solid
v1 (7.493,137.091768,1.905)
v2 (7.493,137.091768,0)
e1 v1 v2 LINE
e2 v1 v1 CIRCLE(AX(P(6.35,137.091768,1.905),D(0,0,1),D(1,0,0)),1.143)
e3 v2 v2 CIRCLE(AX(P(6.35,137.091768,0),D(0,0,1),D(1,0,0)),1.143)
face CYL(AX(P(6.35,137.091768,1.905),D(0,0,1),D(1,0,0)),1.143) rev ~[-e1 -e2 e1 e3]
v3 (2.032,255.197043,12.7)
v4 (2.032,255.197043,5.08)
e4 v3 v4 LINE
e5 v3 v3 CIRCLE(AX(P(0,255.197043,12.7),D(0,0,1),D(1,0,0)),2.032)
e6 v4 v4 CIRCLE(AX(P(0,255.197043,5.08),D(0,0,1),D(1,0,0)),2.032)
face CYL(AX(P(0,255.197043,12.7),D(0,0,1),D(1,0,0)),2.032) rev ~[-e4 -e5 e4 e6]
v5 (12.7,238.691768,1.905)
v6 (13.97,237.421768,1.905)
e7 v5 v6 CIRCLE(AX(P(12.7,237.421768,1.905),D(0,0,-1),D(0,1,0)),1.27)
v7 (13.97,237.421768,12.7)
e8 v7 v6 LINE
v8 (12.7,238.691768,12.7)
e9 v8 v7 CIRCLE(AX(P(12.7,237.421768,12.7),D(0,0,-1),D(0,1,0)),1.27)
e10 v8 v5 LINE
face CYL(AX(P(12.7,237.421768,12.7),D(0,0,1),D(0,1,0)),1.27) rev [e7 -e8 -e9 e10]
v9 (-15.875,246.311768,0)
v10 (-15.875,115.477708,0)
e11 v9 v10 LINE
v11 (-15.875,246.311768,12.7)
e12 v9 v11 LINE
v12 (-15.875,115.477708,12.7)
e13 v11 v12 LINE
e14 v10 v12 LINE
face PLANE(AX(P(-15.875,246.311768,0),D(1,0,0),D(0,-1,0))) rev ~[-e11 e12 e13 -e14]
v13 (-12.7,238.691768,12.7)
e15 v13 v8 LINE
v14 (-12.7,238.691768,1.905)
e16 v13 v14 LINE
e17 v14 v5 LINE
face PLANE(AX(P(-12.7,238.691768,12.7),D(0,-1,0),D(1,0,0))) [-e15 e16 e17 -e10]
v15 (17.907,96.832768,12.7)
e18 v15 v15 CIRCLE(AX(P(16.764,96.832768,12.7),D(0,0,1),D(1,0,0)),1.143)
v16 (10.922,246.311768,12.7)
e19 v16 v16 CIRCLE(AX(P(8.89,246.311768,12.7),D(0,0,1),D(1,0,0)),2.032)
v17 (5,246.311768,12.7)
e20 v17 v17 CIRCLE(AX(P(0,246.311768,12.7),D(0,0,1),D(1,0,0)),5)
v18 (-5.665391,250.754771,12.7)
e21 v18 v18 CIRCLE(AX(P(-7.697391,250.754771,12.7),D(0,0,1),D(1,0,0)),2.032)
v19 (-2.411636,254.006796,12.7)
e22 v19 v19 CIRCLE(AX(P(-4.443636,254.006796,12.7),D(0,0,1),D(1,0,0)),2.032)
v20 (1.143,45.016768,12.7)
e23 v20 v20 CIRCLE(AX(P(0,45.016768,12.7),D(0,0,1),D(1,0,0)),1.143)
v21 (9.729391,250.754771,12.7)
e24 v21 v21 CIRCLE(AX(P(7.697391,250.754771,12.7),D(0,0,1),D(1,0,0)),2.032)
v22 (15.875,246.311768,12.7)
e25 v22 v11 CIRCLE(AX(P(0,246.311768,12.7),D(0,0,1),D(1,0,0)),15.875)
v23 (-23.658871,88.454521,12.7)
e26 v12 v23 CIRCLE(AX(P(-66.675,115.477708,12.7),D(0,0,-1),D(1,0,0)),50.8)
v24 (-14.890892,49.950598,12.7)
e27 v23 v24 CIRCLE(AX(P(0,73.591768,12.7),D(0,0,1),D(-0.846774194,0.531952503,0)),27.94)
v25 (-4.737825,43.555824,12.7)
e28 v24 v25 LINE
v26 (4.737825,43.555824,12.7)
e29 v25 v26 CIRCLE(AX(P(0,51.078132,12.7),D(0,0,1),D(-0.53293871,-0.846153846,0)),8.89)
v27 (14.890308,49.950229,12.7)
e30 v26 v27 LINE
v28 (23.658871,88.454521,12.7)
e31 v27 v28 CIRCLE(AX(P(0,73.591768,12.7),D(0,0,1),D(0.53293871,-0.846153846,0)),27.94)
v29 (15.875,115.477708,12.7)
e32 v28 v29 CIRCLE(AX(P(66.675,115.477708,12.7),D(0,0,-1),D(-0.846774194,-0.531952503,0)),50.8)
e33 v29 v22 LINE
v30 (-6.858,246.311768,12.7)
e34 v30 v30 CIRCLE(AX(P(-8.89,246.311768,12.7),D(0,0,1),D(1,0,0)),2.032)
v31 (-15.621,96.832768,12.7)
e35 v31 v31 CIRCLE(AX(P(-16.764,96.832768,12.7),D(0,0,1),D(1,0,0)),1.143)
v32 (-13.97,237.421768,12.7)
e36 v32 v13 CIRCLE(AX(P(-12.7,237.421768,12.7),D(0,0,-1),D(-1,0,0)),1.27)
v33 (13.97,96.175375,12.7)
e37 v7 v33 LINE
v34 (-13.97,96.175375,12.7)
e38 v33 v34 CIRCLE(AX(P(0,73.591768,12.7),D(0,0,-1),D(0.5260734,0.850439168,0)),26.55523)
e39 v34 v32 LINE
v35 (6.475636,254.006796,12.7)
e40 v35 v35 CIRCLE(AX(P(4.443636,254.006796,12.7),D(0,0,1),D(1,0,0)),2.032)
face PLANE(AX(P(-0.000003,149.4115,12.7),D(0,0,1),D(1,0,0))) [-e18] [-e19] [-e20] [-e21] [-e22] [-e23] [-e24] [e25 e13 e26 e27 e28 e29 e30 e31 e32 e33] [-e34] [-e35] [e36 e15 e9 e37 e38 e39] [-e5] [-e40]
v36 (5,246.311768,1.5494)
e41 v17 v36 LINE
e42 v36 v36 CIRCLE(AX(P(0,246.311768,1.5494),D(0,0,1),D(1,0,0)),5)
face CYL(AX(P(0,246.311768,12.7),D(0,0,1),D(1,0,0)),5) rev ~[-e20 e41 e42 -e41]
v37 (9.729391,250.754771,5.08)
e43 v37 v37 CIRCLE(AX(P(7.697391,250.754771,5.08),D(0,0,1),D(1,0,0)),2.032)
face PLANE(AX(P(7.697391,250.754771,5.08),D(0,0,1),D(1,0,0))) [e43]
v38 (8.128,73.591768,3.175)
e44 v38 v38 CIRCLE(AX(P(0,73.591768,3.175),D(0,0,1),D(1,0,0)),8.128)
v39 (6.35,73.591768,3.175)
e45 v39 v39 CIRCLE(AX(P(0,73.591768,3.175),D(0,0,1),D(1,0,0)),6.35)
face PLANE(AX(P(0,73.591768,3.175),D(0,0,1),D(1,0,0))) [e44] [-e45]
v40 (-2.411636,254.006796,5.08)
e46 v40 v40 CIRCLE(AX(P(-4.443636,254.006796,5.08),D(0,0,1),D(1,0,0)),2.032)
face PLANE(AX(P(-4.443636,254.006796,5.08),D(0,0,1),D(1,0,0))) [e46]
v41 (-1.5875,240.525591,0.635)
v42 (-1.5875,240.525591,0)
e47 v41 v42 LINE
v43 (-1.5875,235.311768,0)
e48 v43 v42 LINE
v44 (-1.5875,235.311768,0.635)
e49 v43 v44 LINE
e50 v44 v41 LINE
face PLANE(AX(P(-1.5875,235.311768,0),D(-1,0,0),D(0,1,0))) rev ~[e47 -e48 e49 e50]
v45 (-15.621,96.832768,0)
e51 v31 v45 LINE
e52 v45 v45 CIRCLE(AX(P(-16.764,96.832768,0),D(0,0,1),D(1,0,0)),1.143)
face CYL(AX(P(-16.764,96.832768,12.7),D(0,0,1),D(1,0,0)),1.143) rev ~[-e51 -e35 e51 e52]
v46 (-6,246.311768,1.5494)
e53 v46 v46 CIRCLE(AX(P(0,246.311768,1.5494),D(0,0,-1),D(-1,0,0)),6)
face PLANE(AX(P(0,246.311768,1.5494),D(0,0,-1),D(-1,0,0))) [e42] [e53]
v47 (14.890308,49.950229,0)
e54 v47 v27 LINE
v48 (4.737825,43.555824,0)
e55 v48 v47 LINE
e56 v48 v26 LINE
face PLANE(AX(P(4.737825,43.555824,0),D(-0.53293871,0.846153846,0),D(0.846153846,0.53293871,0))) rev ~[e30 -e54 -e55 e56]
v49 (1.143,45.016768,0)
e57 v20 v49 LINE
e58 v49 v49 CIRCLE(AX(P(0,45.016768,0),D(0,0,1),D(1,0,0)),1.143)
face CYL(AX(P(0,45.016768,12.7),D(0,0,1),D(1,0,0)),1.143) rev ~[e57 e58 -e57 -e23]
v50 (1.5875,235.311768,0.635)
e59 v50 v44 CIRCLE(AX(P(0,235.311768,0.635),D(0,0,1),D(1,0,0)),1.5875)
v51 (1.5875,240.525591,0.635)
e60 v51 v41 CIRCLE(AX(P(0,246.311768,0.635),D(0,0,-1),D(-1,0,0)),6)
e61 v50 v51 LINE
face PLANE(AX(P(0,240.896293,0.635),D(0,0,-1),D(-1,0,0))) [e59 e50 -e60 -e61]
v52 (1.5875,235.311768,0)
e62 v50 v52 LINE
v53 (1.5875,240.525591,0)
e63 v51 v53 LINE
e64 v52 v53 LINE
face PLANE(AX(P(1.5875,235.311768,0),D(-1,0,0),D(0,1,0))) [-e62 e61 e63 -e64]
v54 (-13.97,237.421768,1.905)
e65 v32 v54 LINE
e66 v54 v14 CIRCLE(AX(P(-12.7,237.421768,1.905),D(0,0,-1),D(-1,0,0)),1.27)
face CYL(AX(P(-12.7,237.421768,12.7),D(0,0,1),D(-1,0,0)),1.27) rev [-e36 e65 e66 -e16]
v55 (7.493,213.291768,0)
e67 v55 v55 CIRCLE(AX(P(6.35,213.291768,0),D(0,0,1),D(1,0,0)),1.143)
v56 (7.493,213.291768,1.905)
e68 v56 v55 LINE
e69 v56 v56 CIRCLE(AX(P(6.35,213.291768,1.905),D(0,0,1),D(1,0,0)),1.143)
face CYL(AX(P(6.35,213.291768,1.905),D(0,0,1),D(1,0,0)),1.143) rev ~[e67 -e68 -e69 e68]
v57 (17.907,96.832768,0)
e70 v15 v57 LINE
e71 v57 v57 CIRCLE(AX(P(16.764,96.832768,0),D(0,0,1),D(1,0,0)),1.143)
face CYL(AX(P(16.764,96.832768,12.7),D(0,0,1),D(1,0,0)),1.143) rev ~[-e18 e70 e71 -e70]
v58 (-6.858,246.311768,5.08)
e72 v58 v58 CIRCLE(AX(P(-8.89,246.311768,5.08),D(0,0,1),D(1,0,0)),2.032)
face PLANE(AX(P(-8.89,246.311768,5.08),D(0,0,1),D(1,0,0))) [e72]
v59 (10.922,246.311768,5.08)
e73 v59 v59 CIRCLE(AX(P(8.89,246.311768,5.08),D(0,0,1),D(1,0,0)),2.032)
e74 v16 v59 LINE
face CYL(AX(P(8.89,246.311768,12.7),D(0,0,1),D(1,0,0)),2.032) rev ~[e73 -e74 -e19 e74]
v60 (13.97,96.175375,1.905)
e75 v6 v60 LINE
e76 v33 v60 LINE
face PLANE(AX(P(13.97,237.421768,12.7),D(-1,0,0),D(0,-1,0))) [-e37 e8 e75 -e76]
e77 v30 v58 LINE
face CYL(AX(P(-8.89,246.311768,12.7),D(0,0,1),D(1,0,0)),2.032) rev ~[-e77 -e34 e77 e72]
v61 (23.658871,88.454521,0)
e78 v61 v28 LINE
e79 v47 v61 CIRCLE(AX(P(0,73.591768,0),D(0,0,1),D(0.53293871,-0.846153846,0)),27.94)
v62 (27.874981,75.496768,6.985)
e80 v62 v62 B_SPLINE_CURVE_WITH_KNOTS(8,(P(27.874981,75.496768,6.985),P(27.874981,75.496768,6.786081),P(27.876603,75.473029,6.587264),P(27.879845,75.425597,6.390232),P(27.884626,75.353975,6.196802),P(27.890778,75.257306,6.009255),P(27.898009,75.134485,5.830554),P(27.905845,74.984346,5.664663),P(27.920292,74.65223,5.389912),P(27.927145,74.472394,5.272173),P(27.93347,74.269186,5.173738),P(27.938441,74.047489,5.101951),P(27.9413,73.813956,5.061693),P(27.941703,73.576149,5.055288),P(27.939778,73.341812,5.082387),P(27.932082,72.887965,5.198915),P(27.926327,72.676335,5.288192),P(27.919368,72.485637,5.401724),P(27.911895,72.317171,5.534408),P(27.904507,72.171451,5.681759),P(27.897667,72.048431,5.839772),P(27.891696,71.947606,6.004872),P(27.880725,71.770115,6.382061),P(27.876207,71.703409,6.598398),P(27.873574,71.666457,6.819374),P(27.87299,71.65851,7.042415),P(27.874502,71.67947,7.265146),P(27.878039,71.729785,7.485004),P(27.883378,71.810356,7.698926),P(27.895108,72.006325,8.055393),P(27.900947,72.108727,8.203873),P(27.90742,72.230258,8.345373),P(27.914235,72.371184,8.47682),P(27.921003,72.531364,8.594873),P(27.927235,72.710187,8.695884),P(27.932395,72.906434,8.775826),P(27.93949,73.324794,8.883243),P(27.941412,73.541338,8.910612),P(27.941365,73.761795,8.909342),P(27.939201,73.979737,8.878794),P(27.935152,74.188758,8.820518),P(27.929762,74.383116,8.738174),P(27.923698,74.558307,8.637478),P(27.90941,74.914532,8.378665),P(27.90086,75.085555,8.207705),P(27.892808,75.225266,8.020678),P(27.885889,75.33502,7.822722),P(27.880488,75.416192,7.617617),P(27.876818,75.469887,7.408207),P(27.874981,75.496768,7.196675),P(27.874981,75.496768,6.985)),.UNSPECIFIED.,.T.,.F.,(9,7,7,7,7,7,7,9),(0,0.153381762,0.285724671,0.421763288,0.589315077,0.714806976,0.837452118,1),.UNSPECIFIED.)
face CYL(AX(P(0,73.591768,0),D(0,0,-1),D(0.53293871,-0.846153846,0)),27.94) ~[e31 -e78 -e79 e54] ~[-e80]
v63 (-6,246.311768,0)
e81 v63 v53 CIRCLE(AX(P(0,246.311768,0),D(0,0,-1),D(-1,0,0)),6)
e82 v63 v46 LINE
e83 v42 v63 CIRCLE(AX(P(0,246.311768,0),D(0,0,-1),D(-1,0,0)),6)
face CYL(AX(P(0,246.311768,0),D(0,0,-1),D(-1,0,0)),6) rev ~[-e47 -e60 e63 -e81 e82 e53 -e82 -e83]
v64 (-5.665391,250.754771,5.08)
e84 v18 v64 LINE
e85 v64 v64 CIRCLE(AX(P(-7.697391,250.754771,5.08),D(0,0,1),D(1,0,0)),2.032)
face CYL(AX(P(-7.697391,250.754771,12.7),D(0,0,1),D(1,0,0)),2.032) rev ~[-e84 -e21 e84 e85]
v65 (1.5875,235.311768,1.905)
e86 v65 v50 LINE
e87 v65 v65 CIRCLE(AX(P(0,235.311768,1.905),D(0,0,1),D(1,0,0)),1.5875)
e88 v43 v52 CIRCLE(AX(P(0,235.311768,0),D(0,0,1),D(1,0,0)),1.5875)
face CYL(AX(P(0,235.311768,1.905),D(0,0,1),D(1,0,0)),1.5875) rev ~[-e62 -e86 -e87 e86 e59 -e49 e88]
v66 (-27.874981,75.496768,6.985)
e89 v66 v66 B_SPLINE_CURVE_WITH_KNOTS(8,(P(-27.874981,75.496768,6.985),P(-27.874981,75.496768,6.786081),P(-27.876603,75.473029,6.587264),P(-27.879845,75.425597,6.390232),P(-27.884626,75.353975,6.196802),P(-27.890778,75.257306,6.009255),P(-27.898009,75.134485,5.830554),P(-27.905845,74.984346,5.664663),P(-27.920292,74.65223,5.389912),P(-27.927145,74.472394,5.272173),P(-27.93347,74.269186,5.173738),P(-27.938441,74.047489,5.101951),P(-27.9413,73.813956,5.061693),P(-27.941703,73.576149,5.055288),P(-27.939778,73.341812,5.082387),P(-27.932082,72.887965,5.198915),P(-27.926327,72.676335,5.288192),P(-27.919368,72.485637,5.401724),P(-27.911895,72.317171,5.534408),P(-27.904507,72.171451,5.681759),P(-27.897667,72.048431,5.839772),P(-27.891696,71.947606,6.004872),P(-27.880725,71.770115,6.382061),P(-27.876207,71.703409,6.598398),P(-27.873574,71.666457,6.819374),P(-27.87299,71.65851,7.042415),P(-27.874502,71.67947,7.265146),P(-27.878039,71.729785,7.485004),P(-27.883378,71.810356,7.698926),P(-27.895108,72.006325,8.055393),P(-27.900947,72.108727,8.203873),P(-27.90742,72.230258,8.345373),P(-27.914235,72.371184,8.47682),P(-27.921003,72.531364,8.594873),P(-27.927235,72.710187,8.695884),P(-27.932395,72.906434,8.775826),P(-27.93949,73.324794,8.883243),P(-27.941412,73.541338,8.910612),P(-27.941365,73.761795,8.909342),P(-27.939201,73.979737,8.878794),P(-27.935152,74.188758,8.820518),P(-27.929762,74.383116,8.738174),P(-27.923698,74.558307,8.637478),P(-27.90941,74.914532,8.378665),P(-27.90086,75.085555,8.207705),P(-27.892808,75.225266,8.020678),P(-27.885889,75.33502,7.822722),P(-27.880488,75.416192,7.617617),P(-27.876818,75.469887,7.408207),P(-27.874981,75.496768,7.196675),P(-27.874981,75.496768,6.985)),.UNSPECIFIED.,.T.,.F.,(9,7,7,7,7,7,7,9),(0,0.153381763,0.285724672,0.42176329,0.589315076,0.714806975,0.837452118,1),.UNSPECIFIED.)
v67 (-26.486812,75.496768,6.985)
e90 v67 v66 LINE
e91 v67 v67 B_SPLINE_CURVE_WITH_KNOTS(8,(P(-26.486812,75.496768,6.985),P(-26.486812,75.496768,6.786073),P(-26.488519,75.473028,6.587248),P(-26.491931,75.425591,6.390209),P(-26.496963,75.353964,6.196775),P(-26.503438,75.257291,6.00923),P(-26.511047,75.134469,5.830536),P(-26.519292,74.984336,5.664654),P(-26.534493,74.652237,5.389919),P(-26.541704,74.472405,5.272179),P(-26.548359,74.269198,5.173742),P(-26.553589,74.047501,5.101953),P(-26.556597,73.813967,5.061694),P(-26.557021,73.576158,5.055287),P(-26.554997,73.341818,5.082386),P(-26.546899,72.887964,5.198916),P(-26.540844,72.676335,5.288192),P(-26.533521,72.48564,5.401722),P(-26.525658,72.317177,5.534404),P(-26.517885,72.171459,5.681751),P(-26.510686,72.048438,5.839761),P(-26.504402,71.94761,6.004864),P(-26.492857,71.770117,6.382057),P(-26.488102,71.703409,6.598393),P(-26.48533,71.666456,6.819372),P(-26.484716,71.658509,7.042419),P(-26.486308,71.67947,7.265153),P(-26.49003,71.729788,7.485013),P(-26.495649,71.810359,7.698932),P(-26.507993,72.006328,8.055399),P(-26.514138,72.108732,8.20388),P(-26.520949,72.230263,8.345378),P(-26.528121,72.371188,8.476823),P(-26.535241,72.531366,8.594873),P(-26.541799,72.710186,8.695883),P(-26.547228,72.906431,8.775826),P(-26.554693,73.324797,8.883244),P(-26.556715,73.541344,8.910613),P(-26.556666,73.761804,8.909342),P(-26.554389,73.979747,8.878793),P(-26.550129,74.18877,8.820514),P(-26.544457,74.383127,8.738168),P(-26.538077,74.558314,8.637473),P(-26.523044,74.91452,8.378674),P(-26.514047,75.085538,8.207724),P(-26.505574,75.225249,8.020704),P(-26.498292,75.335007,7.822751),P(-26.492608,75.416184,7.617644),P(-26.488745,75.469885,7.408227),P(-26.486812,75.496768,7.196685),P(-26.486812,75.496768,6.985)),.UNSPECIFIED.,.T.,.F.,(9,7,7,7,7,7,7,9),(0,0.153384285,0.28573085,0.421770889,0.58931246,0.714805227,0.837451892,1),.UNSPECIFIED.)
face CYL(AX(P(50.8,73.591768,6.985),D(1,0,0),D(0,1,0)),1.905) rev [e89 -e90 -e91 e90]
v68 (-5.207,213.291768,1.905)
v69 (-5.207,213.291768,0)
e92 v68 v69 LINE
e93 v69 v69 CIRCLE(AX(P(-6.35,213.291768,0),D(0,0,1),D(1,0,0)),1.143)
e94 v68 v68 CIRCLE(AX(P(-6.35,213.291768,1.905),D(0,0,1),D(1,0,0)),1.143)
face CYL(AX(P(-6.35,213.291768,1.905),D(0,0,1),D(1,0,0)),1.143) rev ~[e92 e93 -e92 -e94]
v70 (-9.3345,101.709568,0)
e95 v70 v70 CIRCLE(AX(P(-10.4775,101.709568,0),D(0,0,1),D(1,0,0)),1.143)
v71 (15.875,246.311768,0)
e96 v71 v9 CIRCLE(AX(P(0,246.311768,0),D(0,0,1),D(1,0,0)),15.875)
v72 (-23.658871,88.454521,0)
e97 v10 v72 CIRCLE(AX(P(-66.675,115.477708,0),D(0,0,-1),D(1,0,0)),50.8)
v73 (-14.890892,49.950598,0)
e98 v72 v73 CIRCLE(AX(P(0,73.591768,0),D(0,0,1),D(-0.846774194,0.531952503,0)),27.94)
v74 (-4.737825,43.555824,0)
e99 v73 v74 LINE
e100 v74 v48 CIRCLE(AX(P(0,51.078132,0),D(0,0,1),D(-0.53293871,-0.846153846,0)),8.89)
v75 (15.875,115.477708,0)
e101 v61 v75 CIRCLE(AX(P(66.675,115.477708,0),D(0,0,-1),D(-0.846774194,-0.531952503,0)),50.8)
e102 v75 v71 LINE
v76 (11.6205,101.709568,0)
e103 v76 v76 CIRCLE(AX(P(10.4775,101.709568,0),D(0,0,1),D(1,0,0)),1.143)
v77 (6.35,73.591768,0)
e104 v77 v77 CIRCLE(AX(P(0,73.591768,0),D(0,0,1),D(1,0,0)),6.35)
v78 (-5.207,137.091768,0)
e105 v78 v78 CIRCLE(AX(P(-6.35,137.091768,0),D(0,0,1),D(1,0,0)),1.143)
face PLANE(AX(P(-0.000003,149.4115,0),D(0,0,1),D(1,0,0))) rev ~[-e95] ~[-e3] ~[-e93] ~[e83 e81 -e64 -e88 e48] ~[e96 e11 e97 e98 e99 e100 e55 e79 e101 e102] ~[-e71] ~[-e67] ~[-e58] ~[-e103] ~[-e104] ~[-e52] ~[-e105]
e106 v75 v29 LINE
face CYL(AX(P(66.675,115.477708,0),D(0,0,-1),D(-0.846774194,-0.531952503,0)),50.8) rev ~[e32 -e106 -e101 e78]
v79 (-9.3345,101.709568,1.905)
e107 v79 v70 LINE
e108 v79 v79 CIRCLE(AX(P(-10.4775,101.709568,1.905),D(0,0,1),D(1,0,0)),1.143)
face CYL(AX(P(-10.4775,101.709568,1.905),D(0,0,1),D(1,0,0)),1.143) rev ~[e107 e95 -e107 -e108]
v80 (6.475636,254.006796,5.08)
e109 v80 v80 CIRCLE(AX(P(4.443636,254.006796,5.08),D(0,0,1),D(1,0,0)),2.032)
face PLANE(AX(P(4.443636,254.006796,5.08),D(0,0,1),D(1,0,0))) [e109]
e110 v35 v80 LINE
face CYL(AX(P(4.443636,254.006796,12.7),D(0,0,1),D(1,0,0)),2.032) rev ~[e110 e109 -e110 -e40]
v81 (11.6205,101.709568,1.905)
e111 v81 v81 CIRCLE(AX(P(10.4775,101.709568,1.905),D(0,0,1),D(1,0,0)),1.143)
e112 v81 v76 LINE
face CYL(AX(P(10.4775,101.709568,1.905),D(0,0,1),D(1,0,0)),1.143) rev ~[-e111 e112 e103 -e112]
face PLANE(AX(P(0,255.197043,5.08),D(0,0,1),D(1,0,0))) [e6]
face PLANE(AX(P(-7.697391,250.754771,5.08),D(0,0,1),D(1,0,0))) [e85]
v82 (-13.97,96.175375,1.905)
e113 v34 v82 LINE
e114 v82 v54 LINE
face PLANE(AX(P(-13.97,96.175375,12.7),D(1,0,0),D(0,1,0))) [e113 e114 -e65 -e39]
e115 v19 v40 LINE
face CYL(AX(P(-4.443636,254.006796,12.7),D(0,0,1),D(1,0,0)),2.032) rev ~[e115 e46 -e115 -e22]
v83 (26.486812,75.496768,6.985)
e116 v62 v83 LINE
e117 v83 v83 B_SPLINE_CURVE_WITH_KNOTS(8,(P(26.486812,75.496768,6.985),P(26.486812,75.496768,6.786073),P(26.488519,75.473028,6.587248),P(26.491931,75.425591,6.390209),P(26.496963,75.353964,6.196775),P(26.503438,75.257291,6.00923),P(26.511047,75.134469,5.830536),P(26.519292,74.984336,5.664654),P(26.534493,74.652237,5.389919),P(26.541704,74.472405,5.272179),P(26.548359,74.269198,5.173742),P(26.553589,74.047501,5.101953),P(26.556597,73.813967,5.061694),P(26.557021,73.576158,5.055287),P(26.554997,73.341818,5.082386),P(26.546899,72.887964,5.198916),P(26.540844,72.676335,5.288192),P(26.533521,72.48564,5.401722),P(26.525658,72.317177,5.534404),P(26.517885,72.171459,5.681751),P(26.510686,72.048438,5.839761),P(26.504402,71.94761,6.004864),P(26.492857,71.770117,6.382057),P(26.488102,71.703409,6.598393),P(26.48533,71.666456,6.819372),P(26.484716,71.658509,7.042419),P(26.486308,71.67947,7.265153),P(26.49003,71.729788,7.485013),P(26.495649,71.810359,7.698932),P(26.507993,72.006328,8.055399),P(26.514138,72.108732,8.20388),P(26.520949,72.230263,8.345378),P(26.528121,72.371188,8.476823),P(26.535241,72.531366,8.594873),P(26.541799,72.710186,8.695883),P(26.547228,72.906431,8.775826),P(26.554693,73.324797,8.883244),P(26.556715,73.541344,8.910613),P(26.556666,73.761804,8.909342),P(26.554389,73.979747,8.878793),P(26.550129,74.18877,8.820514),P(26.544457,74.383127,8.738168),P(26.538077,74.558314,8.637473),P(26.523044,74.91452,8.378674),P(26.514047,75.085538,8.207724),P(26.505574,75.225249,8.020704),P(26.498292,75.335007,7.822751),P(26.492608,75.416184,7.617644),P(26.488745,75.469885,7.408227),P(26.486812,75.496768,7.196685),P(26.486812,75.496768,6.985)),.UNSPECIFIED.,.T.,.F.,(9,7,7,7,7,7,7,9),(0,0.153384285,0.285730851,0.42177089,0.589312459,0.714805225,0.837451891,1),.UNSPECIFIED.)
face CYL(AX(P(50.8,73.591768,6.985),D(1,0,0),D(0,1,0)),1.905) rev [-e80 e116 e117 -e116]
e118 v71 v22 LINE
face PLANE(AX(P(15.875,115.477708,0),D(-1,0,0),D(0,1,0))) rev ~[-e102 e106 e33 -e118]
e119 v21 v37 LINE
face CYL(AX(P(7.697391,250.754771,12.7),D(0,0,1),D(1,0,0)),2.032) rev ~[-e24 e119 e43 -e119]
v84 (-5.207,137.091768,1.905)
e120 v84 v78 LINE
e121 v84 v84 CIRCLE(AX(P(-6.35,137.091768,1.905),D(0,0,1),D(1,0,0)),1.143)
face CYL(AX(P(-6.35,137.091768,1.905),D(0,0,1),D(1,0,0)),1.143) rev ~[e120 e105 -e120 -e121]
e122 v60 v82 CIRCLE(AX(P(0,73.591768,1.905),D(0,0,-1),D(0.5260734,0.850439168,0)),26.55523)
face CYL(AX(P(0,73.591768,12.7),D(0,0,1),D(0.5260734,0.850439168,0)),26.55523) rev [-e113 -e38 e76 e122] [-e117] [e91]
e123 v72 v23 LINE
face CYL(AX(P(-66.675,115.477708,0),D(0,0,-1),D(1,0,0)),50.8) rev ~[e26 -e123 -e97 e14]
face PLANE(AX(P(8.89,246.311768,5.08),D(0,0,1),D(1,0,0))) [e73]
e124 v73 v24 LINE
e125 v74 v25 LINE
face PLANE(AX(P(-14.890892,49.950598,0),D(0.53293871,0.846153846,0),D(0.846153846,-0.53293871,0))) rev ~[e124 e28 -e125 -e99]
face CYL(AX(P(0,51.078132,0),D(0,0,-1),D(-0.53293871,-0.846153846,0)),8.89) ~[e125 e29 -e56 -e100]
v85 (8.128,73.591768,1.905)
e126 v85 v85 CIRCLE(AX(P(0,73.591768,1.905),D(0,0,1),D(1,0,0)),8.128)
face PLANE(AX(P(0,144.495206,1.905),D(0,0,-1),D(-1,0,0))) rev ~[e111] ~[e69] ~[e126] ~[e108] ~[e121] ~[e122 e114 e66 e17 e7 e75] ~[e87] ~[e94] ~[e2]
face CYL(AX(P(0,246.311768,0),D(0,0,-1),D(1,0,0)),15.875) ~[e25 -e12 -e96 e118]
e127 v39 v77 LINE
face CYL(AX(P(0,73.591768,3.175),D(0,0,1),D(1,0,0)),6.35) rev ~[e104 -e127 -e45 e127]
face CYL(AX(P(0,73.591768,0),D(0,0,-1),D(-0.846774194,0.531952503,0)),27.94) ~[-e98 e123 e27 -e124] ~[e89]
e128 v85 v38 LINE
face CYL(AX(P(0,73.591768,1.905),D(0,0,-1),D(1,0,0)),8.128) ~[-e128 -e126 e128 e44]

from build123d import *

# Parameters (mm, degrees)
BOSS_EXTRUDE1_DEPTH      = 12.7
SKETCH2_R                = 5
CUT_EXTRUDE1_DEPTH       = 33
SKETCH3_R                = 2.032
CUT_EXTRUDE2_DEPTH       = 7.62
CUT_EXTRUDE3_DEPTH       = 10.795
SKETCH5_R                = 1.5875
CUT_EXTRUDE4_DEPTH       = 10
SKETCH6_W                = 3.175
SKETCH6_H                = 11.169050429
CUT_EXTRUDE5_DEPTH       = 0.635
SKETCH7_R                = 6
CUT_EXTRUDE6_DEPTH       = 1.5494
SKETCH9_R                = 8.128
BOSS_EXTRUDE2_DEPTH      = 1.27
SKETCH10_R               = 6.35
CUT_EXTRUDE7_DEPTH       = 22.27
SKETCH11_R               = 1.143
CUT_EXTRUDE8_DEPTH       = 49.276
SKETCH12_R               = 1.143
CUT_EXTRUDE9_DEPTH       = 49.276
SKETCH13_R               = 1.143
CUT_EXTRUDE10_DEPTH      = 49.276
CUT_EXTRUDE11_DEPTH      = 50.8
CUT_EXTRUDE11_DEPTH_BACK = 50.8
SKETCH15_R               = 1.905


with BuildPart() as part:
    # Sketch1 → Boss-Extrude1 (new body)
    with BuildSketch(Plane.XY):
        with BuildLine():
            Line((-15.875, 246.311767937), (-15.875, 115.477708001))
            ThreePointArc((-15.875, 115.477708001), (-17.859739298, 101.416757728), (-23.658870968, 88.454520863))
            ThreePointArc((-23.658870968, 88.454520863), (-27.242596913, 67.388179182), (-14.890892485, 49.950597894))
            Line((-14.890892485, 49.950597894), (-4.737825133, 43.555823885))
            ThreePointArc((-4.737825133, 43.555823885), (0, 42.188131575), (4.737825135, 43.555823883))
            Line((4.737825135, 43.555823883), (14.890307558, 49.950229476))
            ThreePointArc((14.890307558, 49.950229476), (27.242520167, 67.387842169), (23.658870968, 88.454520863))
            ThreePointArc((23.658870968, 88.454520863), (17.859739298, 101.416757728), (15.875, 115.477708001))
            Line((15.875, 115.477708001), (15.875, 246.311767937))
            ThreePointArc((15.875, 246.311767937), (0, 262.186767937), (-15.875, 246.311767937))
        make_face()
    extrude(amount=BOSS_EXTRUDE1_DEPTH)

    # Sketch2 → Cut-Extrude1 (cut)
    with BuildSketch(Plane.XY.offset(12.7)):
        with Locations((0, 246.311767937)):
            Circle(SKETCH2_R)
    extrude(amount=-CUT_EXTRUDE1_DEPTH, mode=Mode.SUBTRACT)

    # Sketch3 → Cut-Extrude2 (cut)
    with BuildSketch(Plane.XY.offset(12.7)):
        with Locations((-8.89, 246.311767937)):
            Circle(SKETCH3_R)
        with Locations((-7.697390963, 250.754770656)):
            Circle(SKETCH3_R)
        with Locations((-4.443636151, 254.006796041)):
            Circle(SKETCH3_R)
        with Locations((0, 255.197042749)):
            Circle(SKETCH3_R)
        with Locations((4.443636151, 254.006796041)):
            Circle(SKETCH3_R)
        with Locations((7.697390963, 250.754770656)):
            Circle(SKETCH3_R)
        with Locations((8.89, 246.311767937)):
            Circle(SKETCH3_R)
    extrude(amount=-CUT_EXTRUDE2_DEPTH, mode=Mode.SUBTRACT)

    # Sketch4 → Cut-Extrude3 (cut)
    with BuildSketch(Plane.XY.offset(12.7)):
        with BuildLine():
            Line((-12.7, 238.691767937), (12.7, 238.691767937))
            ThreePointArc((12.7, 238.691767937), (13.598025612, 238.319793549), (13.97, 237.421767937))
            Line((13.97, 237.421767937), (13.97, 96.175375416))
            ThreePointArc((13.97, 96.175375416), (0, 47.036538193), (-13.97, 96.175375416))
            Line((-13.97, 96.175375416), (-13.97, 237.421767937))
            ThreePointArc((-13.97, 237.421767937), (-13.598025612, 238.319793549), (-12.7, 238.691767937))
        make_face()
    extrude(amount=-CUT_EXTRUDE3_DEPTH, mode=Mode.SUBTRACT)

    # Sketch5 → Cut-Extrude4 (cut)
    with BuildSketch(Plane.XY.offset(1.905)):
        with Locations((0, 235.311767937)):
            Circle(SKETCH5_R)
    extrude(amount=-CUT_EXTRUDE4_DEPTH, mode=Mode.SUBTRACT)

    # Sketch6 → Cut-Extrude5 (cut)
    with BuildSketch(Plane(origin=(0, 0, 0), x_dir=(-1, 0, 0), z_dir=(0, 0, -1))):
        with Locations((0, 240.896293152)):
            Rectangle(SKETCH6_W, SKETCH6_H)
    extrude(amount=-CUT_EXTRUDE5_DEPTH, mode=Mode.SUBTRACT)

    # Sketch7 → Cut-Extrude6 (cut)
    with BuildSketch(Plane(origin=(0, 0, 0), x_dir=(-1, 0, 0), z_dir=(0, 0, -1))):
        with Locations((0, 246.311767937)):
            Circle(SKETCH7_R)
    extrude(amount=-CUT_EXTRUDE6_DEPTH, mode=Mode.SUBTRACT)

    # Sketch9 → Boss-Extrude2 (add)
    with BuildSketch(Plane.XY.offset(1.905)):
        with Locations((0, 73.591767937)):
            Circle(SKETCH9_R)
    extrude(amount=BOSS_EXTRUDE2_DEPTH)

    # Sketch10 → Cut-Extrude7 (cut)
    with BuildSketch(Plane.XY.offset(3.175)):
        with Locations((0, 73.591767937)):
            Circle(SKETCH10_R)
    extrude(amount=-CUT_EXTRUDE7_DEPTH, mode=Mode.SUBTRACT)

    # Sketch11 → Cut-Extrude8 (cut)
    with BuildSketch(Plane.XY.offset(1.905)):
        with Locations((-10.4775, 101.709567937)):
            Circle(SKETCH11_R)
        with Locations((10.4775, 101.709567937)):
            Circle(SKETCH11_R)
    extrude(amount=-CUT_EXTRUDE8_DEPTH, mode=Mode.SUBTRACT)

    # Sketch12 → Cut-Extrude9 (cut)
    with BuildSketch(Plane.XY.offset(12.7)):
        with Locations((-16.764, 96.832767937)):
            Circle(SKETCH12_R)
        with Locations((16.764, 96.832767937)):
            Circle(SKETCH12_R)
        with Locations((0, 45.016767937)):
            Circle(SKETCH12_R)
    extrude(amount=-CUT_EXTRUDE9_DEPTH, mode=Mode.SUBTRACT)

    # Sketch13 → Cut-Extrude10 (cut)
    with BuildSketch(Plane.XY.offset(1.905)):
        with Locations((-6.35, 213.291767937)):
            Circle(SKETCH13_R)
        with Locations((6.35, 213.291767937)):
            Circle(SKETCH13_R)
        with Locations((-6.35, 137.091767937)):
            Circle(SKETCH13_R)
        with Locations((6.35, 137.091767937)):
            Circle(SKETCH13_R)
    extrude(amount=-CUT_EXTRUDE10_DEPTH, mode=Mode.SUBTRACT)

    # Sketch15 → Cut-Extrude11 (cut, two sides: drawn at the far end of the back side and taken through both)
    with BuildSketch(Plane.ZY.offset(-CUT_EXTRUDE11_DEPTH_BACK)):
        with Locations(Location((6.985, 73.591767937, 0), (0, 0, 90))):
            Circle(SKETCH15_R)
    extrude(amount=CUT_EXTRUDE11_DEPTH + CUT_EXTRUDE11_DEPTH_BACK, mode=Mode.SUBTRACT)


solid = part.part
